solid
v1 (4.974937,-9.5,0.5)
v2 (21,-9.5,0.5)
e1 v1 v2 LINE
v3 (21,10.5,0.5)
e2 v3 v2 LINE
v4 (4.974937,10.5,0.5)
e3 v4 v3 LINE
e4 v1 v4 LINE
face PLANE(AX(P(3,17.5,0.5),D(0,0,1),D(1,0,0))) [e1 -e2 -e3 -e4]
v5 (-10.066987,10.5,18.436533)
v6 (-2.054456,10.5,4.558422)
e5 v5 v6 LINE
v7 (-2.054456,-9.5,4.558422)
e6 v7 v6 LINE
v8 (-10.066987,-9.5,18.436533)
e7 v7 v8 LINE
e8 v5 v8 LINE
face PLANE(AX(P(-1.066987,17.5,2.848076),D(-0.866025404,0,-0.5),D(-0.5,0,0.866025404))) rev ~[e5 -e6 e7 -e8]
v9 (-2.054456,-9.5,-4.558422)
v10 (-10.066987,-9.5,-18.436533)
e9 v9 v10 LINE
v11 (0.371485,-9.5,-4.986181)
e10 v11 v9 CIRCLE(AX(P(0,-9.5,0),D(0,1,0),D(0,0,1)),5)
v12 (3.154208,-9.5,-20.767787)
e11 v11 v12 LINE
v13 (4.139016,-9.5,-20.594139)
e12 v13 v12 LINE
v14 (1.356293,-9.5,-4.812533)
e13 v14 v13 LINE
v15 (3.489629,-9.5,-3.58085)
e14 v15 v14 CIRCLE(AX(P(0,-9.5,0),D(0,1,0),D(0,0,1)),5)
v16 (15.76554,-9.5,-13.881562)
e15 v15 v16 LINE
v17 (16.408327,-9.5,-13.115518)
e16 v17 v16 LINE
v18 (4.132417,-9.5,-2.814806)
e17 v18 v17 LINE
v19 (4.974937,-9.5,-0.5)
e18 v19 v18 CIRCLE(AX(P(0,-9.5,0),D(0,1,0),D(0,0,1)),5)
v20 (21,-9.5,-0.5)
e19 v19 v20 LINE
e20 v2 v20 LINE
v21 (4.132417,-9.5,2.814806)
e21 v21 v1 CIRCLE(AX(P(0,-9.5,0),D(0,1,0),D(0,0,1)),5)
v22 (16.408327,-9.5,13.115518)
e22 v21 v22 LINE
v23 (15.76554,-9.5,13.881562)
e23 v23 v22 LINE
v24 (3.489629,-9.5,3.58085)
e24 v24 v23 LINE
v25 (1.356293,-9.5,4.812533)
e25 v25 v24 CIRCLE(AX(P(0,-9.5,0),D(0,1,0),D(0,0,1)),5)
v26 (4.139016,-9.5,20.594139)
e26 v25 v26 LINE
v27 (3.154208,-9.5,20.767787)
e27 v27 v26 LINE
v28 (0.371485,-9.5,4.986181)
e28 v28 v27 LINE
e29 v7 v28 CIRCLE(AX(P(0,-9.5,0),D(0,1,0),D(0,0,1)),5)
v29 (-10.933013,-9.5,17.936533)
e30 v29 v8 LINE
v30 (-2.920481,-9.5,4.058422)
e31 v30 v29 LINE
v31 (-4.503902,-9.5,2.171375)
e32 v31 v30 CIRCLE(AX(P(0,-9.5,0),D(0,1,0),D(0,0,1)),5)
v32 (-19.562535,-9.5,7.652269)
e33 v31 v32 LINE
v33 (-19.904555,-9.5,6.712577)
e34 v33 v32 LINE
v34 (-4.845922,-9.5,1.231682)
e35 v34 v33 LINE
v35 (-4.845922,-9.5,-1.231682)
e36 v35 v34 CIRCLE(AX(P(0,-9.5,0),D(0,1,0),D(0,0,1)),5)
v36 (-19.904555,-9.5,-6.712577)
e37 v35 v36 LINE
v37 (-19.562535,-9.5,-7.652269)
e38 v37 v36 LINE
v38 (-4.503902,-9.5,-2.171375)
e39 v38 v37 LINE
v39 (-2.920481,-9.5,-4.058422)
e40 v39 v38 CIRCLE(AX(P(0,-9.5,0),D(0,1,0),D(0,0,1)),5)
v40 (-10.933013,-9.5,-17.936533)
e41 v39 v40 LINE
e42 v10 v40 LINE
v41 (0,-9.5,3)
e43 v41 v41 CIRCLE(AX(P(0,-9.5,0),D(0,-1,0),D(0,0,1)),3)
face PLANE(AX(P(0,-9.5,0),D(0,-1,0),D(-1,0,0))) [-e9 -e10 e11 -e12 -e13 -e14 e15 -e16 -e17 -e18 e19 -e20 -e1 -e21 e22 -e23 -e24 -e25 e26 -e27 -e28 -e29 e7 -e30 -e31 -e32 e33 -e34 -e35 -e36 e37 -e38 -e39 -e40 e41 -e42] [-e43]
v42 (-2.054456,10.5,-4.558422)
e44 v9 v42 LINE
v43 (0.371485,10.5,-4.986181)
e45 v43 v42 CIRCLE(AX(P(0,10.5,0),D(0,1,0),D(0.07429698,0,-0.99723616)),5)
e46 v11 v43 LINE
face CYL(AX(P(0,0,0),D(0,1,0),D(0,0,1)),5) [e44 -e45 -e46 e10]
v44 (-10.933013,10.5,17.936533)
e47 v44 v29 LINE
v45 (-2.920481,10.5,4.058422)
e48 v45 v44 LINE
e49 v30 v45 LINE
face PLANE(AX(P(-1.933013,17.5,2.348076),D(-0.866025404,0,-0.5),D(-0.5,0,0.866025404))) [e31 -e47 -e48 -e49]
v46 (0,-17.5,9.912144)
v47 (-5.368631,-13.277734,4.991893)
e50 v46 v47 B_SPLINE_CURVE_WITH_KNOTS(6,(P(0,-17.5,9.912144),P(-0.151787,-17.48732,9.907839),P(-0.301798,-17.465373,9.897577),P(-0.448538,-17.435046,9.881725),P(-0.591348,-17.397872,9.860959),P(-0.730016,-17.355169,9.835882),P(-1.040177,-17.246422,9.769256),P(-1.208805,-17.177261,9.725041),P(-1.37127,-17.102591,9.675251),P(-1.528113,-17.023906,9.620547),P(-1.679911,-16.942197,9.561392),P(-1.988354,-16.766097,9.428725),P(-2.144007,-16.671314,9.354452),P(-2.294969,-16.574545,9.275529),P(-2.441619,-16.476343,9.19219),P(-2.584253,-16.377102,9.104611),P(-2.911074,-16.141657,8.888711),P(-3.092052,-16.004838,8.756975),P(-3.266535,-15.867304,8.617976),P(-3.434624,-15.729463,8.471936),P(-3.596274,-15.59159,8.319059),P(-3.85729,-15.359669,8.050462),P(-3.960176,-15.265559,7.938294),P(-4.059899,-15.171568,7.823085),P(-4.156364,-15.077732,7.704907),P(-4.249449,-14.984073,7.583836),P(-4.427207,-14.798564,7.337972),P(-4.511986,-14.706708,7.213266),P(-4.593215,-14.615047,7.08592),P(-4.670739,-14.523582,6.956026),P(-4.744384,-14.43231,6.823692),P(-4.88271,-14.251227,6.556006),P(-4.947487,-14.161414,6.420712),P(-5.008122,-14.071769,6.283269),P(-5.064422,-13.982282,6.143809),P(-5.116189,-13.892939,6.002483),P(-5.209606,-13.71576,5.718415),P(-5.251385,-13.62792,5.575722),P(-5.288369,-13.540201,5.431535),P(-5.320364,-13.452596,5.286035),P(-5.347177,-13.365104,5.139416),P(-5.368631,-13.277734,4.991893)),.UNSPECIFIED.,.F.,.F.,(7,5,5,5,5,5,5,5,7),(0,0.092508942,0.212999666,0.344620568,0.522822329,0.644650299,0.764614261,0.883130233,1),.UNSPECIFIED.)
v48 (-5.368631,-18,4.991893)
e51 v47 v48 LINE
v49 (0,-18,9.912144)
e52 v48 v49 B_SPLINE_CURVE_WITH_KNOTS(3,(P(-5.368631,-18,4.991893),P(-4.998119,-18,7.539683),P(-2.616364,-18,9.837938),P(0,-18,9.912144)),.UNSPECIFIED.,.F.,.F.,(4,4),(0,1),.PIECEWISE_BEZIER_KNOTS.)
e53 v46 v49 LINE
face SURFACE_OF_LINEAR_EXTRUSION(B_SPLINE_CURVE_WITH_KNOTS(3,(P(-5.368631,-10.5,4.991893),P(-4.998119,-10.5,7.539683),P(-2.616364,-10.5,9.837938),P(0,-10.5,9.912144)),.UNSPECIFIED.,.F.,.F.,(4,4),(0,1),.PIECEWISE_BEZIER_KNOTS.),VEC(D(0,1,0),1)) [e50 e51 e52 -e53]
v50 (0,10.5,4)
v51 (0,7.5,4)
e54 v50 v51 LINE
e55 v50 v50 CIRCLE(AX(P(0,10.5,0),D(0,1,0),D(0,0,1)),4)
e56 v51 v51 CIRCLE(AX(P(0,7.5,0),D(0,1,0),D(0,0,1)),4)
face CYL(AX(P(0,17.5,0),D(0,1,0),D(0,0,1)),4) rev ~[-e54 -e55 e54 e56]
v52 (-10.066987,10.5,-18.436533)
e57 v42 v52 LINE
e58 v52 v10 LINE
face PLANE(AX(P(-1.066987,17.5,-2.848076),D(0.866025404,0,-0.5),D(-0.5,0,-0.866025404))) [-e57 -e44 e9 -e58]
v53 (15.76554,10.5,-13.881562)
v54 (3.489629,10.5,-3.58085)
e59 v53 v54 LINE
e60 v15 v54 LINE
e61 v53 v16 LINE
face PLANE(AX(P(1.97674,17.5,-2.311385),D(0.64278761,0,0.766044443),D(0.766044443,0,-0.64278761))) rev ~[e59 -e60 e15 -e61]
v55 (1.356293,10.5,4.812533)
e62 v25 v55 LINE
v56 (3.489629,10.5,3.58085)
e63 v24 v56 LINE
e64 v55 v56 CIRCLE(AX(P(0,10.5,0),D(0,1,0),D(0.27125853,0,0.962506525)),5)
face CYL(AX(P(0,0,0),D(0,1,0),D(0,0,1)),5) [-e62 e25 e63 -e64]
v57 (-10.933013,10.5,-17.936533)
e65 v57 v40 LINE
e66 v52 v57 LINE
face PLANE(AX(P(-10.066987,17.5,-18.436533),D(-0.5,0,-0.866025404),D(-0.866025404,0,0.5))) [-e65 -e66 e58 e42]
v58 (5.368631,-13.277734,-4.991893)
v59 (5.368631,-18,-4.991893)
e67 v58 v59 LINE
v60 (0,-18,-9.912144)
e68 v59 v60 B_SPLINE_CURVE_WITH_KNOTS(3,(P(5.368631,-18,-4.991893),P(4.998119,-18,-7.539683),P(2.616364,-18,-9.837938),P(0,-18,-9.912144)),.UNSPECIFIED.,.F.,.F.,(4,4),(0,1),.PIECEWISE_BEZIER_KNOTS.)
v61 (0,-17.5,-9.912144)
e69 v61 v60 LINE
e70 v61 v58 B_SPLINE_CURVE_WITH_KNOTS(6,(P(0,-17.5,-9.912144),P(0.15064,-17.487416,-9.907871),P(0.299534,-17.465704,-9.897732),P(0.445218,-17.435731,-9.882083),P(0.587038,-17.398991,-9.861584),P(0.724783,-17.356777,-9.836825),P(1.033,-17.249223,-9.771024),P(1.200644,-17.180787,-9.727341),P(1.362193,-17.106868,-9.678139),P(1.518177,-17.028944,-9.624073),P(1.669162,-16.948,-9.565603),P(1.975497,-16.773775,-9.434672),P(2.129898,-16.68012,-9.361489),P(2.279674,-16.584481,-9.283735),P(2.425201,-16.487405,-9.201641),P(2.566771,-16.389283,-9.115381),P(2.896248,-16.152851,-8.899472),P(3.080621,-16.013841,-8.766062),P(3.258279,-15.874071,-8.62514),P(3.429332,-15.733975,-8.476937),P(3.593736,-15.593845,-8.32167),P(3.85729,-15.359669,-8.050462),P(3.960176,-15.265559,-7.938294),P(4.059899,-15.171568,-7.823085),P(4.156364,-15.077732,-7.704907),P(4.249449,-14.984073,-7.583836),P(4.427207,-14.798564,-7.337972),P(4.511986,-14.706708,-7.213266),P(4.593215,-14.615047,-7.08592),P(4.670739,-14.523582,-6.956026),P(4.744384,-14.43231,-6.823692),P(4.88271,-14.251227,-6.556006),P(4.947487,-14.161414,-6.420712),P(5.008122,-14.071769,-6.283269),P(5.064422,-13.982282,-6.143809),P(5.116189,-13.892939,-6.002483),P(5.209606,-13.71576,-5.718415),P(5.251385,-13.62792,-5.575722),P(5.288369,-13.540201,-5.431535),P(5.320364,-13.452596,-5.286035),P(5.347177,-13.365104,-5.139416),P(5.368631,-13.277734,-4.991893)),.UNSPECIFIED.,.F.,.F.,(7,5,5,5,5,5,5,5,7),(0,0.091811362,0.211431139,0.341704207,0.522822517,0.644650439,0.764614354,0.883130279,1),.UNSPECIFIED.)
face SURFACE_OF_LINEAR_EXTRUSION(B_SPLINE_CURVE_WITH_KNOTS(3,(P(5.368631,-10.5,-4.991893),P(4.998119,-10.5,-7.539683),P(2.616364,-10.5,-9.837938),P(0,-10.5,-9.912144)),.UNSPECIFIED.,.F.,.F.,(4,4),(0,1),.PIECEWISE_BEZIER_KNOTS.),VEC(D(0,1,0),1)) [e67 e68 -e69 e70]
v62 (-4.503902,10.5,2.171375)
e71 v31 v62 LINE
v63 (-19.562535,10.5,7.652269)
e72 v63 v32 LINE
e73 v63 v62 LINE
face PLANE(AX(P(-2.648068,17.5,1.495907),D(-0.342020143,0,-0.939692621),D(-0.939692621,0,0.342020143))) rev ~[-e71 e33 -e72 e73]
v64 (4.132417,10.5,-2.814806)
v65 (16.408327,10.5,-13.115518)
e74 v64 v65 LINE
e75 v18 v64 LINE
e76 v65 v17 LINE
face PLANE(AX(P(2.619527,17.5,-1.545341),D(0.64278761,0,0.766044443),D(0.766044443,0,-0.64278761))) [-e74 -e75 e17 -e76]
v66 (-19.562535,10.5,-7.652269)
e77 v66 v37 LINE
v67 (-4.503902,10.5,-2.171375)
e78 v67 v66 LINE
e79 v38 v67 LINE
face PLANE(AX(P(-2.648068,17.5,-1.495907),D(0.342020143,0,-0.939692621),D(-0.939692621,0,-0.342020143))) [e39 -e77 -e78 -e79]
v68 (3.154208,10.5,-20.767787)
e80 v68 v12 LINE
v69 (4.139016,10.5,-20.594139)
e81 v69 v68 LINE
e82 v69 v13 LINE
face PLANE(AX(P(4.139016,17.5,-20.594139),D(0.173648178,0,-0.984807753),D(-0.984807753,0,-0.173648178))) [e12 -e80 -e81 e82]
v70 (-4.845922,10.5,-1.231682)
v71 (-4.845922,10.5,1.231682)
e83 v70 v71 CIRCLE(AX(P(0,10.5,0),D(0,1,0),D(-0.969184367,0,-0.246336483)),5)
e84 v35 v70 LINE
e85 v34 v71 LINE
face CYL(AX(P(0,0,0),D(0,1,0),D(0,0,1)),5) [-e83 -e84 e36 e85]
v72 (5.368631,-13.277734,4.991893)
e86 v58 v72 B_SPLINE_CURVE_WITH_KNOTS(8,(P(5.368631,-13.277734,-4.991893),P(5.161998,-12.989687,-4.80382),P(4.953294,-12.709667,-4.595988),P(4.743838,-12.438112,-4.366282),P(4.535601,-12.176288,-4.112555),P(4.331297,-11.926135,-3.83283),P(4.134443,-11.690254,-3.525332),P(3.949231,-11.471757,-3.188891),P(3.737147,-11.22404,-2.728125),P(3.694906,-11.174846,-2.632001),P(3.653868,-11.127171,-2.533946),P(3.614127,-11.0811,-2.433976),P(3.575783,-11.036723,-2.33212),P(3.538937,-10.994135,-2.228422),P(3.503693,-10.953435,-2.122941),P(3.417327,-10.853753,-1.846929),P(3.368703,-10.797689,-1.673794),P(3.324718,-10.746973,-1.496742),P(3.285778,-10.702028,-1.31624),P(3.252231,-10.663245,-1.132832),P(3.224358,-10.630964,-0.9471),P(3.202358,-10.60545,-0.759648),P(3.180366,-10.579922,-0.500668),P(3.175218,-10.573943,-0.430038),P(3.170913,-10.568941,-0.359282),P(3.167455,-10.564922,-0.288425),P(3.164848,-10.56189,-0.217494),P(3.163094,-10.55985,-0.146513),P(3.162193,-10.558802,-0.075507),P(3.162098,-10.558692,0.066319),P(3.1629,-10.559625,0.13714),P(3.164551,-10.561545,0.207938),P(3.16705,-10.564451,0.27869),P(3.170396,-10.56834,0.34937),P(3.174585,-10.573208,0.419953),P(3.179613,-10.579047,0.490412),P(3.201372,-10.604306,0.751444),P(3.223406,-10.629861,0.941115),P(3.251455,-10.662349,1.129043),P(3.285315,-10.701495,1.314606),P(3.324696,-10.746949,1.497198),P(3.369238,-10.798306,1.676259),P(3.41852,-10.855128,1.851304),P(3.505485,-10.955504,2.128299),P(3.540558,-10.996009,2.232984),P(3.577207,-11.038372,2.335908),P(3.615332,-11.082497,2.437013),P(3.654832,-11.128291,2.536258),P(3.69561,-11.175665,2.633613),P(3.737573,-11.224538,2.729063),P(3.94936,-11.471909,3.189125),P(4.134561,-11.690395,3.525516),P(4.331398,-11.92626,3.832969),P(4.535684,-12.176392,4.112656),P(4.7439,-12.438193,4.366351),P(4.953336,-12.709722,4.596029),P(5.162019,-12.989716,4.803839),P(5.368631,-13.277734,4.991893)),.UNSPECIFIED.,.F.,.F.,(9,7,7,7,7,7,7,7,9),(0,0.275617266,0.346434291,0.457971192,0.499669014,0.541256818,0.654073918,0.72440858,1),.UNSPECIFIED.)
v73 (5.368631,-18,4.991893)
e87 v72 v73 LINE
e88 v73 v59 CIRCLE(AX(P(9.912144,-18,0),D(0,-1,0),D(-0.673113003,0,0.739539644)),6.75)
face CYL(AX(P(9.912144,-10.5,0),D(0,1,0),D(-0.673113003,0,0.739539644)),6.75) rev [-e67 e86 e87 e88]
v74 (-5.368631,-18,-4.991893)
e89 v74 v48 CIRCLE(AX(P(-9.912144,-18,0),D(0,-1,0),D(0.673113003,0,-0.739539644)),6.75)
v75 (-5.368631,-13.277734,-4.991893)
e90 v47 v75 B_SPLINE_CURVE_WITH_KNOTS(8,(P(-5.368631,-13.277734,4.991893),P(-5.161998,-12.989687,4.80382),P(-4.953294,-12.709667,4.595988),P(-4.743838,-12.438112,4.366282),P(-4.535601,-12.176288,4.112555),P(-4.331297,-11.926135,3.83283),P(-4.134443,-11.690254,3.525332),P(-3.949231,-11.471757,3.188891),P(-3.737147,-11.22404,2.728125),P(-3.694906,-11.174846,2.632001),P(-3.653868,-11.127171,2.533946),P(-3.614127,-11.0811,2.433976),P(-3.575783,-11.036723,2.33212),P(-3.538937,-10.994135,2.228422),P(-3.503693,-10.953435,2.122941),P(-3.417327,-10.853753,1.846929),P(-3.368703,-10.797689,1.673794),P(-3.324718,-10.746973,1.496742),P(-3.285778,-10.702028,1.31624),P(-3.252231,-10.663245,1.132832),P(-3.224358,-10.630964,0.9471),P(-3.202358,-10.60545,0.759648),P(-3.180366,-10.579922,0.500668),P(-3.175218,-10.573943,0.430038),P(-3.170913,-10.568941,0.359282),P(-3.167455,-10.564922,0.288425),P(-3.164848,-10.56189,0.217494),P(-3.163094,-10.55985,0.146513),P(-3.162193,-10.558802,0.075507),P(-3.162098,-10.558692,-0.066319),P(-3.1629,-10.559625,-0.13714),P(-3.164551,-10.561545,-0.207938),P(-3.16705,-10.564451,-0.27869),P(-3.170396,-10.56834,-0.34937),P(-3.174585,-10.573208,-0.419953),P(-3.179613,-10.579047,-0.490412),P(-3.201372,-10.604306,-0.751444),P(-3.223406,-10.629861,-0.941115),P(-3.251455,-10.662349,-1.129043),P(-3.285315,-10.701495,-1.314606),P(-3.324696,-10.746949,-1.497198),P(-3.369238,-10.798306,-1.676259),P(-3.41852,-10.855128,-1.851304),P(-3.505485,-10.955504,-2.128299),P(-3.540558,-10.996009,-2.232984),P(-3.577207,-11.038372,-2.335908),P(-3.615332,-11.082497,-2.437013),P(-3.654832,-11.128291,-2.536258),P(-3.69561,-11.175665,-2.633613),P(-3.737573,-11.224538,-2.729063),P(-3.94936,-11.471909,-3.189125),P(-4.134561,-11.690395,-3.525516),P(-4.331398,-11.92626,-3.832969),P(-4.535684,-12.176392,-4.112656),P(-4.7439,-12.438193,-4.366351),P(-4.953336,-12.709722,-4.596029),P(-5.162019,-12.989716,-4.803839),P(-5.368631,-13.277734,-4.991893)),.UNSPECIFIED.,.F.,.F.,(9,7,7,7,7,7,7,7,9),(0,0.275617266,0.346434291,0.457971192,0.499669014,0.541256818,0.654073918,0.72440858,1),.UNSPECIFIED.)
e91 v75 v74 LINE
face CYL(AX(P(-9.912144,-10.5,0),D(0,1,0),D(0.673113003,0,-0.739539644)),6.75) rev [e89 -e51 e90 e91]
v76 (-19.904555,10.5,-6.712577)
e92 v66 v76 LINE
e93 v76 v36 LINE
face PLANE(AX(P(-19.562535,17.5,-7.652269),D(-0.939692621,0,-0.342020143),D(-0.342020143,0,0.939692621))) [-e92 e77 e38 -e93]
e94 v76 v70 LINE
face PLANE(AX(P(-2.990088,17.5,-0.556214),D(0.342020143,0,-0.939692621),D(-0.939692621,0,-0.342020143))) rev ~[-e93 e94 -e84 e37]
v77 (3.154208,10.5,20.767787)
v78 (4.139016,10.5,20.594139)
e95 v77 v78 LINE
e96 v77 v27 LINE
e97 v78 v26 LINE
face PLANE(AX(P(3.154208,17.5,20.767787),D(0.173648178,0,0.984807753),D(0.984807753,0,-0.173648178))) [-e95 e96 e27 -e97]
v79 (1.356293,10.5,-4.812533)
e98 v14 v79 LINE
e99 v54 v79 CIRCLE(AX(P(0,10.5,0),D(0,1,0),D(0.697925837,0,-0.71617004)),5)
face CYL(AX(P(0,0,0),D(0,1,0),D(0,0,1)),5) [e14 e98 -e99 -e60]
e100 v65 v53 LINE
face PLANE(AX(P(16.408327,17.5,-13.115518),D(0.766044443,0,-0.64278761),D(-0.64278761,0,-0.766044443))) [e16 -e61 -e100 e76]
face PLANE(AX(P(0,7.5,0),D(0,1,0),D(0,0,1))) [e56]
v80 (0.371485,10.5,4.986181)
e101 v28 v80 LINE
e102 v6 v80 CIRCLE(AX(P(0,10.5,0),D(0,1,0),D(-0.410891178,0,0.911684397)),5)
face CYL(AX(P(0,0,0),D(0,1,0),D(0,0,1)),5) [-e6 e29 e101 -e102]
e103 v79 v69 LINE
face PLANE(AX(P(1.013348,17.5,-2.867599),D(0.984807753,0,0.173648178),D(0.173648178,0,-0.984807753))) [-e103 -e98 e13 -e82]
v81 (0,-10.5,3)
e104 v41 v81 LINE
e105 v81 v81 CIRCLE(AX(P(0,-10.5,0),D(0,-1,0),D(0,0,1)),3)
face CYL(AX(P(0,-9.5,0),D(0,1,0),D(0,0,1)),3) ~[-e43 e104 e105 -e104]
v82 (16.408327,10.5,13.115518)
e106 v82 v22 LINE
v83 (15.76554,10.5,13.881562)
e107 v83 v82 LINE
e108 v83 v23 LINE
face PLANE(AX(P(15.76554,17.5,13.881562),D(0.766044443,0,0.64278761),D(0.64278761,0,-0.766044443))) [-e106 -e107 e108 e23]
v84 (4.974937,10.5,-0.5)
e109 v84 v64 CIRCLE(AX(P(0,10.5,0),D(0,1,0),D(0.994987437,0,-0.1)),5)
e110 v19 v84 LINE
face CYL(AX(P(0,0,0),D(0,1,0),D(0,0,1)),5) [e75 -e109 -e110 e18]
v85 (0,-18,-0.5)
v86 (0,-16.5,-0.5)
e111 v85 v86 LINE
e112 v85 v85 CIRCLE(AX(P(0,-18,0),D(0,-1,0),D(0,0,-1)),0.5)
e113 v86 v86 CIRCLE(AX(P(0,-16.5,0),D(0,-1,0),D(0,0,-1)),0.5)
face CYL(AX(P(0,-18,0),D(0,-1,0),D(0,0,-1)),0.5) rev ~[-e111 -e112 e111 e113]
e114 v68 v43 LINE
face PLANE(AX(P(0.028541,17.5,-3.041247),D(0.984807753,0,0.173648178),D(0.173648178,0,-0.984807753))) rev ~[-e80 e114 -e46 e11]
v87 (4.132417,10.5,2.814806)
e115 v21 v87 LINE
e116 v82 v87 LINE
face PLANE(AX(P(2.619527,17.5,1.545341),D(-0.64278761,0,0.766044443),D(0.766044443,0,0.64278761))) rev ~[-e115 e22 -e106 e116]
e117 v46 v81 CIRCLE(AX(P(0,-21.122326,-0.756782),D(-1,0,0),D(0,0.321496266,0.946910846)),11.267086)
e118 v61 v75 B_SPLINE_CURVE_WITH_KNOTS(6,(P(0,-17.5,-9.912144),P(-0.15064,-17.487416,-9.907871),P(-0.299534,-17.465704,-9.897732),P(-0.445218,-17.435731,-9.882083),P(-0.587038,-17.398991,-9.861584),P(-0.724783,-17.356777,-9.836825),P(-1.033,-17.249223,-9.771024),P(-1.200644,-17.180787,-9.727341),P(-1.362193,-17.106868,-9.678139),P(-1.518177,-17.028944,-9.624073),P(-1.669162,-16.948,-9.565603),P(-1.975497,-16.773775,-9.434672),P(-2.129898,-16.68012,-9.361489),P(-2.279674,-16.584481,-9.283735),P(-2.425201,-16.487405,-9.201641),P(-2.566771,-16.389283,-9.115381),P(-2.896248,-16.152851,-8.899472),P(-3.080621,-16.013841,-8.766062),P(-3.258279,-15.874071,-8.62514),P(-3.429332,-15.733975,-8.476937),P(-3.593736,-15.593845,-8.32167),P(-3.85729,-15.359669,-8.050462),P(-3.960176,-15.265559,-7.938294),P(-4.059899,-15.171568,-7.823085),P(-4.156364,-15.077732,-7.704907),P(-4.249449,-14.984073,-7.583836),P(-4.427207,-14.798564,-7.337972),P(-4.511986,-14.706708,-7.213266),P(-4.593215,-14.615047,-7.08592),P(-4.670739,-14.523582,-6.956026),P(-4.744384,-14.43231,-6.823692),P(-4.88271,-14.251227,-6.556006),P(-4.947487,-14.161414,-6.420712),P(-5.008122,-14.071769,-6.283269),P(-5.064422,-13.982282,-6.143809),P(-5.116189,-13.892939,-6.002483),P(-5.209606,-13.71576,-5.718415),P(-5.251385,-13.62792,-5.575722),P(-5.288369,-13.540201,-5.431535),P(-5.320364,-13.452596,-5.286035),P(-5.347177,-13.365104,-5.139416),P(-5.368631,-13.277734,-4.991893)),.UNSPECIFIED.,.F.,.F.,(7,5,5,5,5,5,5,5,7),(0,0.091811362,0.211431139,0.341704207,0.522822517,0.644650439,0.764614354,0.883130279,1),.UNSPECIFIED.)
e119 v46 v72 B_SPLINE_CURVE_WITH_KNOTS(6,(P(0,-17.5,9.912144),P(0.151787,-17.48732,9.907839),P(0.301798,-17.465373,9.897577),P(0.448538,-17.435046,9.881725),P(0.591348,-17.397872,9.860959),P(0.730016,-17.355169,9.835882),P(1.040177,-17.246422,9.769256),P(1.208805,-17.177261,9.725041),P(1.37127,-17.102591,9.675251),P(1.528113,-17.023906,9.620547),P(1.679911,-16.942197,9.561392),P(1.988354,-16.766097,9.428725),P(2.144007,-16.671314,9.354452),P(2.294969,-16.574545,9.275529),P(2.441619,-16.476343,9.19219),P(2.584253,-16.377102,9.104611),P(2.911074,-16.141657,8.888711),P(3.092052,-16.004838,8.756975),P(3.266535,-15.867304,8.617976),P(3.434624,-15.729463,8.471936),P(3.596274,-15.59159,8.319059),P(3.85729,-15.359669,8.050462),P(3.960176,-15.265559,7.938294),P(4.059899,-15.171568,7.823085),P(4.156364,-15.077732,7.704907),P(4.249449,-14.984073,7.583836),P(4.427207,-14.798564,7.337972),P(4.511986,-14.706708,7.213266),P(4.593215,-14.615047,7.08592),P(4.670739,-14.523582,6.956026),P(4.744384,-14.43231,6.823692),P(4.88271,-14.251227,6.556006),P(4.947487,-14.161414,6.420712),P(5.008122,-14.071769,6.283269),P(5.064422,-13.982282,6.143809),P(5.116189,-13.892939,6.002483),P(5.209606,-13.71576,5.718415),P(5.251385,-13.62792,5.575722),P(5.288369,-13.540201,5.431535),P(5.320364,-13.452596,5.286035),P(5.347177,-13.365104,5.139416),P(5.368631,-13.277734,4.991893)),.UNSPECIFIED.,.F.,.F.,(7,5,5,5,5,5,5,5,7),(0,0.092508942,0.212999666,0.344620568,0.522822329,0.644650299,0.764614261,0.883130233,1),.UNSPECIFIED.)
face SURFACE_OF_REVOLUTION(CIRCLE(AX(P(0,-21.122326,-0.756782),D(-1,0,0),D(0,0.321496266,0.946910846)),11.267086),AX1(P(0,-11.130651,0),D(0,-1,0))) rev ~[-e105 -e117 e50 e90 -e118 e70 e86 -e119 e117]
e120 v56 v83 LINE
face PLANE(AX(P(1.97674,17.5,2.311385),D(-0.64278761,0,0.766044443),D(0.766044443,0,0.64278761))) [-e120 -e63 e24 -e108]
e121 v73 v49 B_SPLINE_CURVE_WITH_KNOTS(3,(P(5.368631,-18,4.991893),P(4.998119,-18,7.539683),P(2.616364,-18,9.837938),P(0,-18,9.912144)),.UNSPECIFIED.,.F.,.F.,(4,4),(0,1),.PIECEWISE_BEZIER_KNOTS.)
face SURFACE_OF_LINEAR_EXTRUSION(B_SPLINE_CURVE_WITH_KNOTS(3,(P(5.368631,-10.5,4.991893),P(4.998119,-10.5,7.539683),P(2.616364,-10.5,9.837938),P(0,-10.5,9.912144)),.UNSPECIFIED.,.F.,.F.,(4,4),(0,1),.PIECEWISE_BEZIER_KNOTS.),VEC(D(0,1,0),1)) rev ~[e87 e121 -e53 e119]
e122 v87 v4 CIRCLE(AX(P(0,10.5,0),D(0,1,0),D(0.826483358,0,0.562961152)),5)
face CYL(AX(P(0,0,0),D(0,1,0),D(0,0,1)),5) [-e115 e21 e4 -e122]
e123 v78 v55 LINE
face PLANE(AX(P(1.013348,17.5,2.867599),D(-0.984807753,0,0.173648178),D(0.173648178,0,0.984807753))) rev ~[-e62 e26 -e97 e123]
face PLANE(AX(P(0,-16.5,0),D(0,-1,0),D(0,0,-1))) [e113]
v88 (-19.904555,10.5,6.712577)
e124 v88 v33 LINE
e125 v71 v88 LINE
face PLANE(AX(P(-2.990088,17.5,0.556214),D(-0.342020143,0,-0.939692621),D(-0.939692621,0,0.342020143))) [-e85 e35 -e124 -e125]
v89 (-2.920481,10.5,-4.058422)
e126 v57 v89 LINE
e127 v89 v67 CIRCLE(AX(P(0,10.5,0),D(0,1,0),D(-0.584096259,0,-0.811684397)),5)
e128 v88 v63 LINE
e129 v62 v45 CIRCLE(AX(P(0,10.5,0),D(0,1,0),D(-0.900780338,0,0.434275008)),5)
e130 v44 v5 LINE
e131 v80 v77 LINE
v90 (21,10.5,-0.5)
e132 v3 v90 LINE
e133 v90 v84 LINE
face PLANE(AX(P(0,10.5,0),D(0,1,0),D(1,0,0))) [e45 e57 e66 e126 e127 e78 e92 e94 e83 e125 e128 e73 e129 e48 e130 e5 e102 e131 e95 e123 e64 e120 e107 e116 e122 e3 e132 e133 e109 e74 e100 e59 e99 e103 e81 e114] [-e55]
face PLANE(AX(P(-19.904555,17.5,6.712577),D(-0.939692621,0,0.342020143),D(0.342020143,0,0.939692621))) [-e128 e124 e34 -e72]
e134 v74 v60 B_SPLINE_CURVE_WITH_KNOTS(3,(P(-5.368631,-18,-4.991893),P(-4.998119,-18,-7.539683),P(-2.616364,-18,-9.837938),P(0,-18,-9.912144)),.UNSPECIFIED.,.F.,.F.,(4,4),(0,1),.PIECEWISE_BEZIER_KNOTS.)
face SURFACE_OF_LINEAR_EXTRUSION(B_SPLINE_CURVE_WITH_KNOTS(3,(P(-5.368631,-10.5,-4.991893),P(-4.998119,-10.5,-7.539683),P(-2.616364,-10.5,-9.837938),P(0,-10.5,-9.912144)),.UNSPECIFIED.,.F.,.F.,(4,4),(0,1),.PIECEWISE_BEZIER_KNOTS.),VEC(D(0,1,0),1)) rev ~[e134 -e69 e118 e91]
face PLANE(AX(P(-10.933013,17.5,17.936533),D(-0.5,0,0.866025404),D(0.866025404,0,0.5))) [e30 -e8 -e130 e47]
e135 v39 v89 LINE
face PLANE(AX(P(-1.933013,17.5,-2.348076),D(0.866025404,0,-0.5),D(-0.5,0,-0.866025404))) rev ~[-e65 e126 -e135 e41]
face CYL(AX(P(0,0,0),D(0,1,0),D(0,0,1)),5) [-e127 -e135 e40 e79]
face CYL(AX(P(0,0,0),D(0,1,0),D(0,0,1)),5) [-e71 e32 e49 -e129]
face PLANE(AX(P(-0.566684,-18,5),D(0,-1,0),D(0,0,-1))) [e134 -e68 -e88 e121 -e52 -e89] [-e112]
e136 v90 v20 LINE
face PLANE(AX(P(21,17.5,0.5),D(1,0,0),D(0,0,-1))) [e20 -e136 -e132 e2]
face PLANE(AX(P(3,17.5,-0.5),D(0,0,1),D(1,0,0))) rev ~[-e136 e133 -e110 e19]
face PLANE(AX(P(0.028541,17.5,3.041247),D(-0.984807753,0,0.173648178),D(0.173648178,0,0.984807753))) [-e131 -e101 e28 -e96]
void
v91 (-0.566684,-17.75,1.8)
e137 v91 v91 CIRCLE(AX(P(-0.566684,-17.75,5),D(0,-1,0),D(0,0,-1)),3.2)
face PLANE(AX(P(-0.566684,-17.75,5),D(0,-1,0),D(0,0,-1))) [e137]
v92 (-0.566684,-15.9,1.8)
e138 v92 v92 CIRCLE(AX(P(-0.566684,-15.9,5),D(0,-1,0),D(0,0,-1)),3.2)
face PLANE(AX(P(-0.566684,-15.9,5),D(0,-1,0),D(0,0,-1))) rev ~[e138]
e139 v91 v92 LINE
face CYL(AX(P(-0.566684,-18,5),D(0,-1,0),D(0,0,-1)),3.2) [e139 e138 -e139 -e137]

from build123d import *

# Parameters (mm, degrees)
SKETCH1_R           = 5
SKETCH1_R_2         = 3
BOSS_EXTRUDE2_DEPTH = 17.5
SKETCH4_W           = 18
SKETCH4_H           = 1
EXTRUDE_THIN1_DEPTH = 35
CIRPATTERN1_COUNT   = 9
SKETCH5_R           = 3
BOSS_EXTRUDE3_DEPTH = 15
SKETCH6_R           = 3.5
SKETCH6_R_2         = 1.5
CUT_EXTRUDE1_DEPTH  = 6
SKETCH15_R          = 1.5
CUT_EXTRUDE2_DEPTH  = 2
SKETCH17_R          = 2.5
BOSS_EXTRUDE4_DEPTH = 3
SKETCH18_R          = 2
CUT_EXTRUDE3_DEPTH  = 2
SKETCH19_R          = 4
CUT_EXTRUDE4_DEPTH  = 20
SKETCH20_W          = 45.677284088
SKETCH20_H          = 45.724664858
CUT_EXTRUDE5_DEPTH  = 8
SKETCH21_R          = 3
BOSS_EXTRUDE5_DEPTH = 1
SKETCH24_R          = 9.912143672
BOSS_EXTRUDE6_DEPTH = 0.5
SKETCH25_R          = 3.2
CUT_EXTRUDE6_DEPTH  = 2.1
SKETCH26_R          = 3.2
BOSS_EXTRUDE7_DEPTH = 0.25
CUT_EXTRUDE8_START  = -7.5
CUT_EXTRUDE8_DEPTH  = 7.5
SKETCH28_R          = 0.5
CUT_EXTRUDE9_DEPTH  = 1.5
CUT_EXTRUDE10_DEPTH = 7
BOSS_EXTRUDE8_START = 10
SKETCH30_R          = 4
BOSS_EXTRUDE8_DEPTH = 10


with BuildPart() as part:
    # Sketch1 → Boss-Extrude2 (new, symmetric)
    with BuildSketch(Plane(origin=(0, 0, 0), x_dir=(1, 0, 0), z_dir=(0, 1, 0))):
        with Locations(Location((0, 0, 0), (0, 0, 270))):
            Circle(SKETCH1_R)
        with Locations(Location((0, 0, 0), (0, 0, 270))):
            Circle(SKETCH1_R_2, mode=Mode.SUBTRACT)
    extrude(amount=BOSS_EXTRUDE2_DEPTH, both=True)

    # Sketch4 → Extrude-Thin1 (add)
    with BuildSketch(Plane(origin=(0, 17.5, 0), x_dir=(1, 0, 0), z_dir=(0, 1, 0))):
        with Locations((12, 0)):
            Rectangle(SKETCH4_W, SKETCH4_H)
    extrude_thin1 = extrude(amount=-EXTRUDE_THIN1_DEPTH)

    # CirPattern1: Extrude-Thin1 ×9 about axis
    cirpattern1_axis = Axis((0, 0, 0), (0, 1, 0))
    for i in range(1, CIRPATTERN1_COUNT):
        add(extrude_thin1.rotate(cirpattern1_axis, i * 360 / CIRPATTERN1_COUNT))

    # Sketch5 → Boss-Extrude3 (add)
    with BuildSketch(Plane(origin=(0, -17.5, 0), x_dir=(-1, 0, 0), z_dir=(0, -1, 0))):
        with Locations(Location((0, 0, 0), (0, 0, 90))):
            Circle(SKETCH5_R)
    extrude(amount=-BOSS_EXTRUDE3_DEPTH)

    # Sketch6 → Cut-Extrude1 (cut)
    with BuildSketch(Plane(origin=(0, -17.5, 0), x_dir=(-1, 0, 0), z_dir=(0, -1, 0))):
        with Locations(Location((0, 0, 0), (0, 0, 90))):
            Circle(SKETCH6_R)
        with Locations(Location((0, 0, 0), (0, 0, 90))):
            Circle(SKETCH6_R_2, mode=Mode.SUBTRACT)
    extrude(amount=-CUT_EXTRUDE1_DEPTH, mode=Mode.SUBTRACT)

    # Sketch15 → Cut-Extrude2 (cut)
    with BuildSketch(Plane.XZ.offset(17.5)):
        with Locations(Location((0, 0, 0), (0, 0, 270))):
            Circle(SKETCH15_R)
    extrude(amount=-CUT_EXTRUDE2_DEPTH, mode=Mode.SUBTRACT)

    # Sketch17 → Boss-Extrude4 (add)
    with BuildSketch(Plane.XZ.offset(17.5)):
        with Locations((18.5, 0)):
            Circle(SKETCH17_R)
    extrude(amount=-BOSS_EXTRUDE4_DEPTH)

    # Sketch18 → Cut-Extrude3 (cut)
    with BuildSketch(Plane.XZ.offset(17.5)):
        with Locations(Location((18.5, 0, 0), (0, 0, 270))):
            Circle(SKETCH18_R)
    extrude(amount=-CUT_EXTRUDE3_DEPTH, mode=Mode.SUBTRACT)

    # Sketch19 → Cut-Extrude4 (cut)
    with BuildSketch(Plane(origin=(0, 17.5, 0), x_dir=(1, 0, 0), z_dir=(0, 1, 0))):
        with Locations(Location((0, 0, 0), (0, 0, 270))):
            Circle(SKETCH19_R)
    extrude(amount=-CUT_EXTRUDE4_DEPTH, mode=Mode.SUBTRACT)

    # Sketch20 → Cut-Extrude5 (cut)
    with BuildSketch(Plane(origin=(0, -17.5, 0), x_dir=(-1, 0, 0), z_dir=(0, -1, 0))):
        Rectangle(SKETCH20_W, SKETCH20_H)
    extrude(amount=-CUT_EXTRUDE5_DEPTH, mode=Mode.SUBTRACT)

    # Sketch21 → Boss-Extrude5 (add)
    with BuildSketch(Plane.XZ.offset(9.5)):
        with Locations(Location((0, 0, 0), (0, 0, 90))):
            Circle(SKETCH21_R)
    extrude(amount=BOSS_EXTRUDE5_DEPTH)

    # Sketch23 → Revolve1 (revolve)
    with BuildSketch(Plane(origin=(0, 0, 0), x_dir=(0, 0, -1), z_dir=(1, 0, 0))):
        with BuildLine():
            Line((-3, -10.5), (-2, -10.5))
            Line((-2, -10.5), (0, -10.5))
            Line((0, -10.5), (0, -17.5))
            Line((0, -17.5), (-8.912143672, -17.5))
            Line((-8.912143672, -17.5), (-9.912143672, -17.5))
            ThreePointArc((-9.912143672, -17.5), (-7.260403323, -13.2057636), (-3, -10.5))
        make_face()
    revolve(axis=Axis((0, -11.130650603, 0), (0, -1, 0)))

    # Sketch24 → Boss-Extrude6 (add)
    with BuildSketch(Plane.XZ.offset(17.5)):
        with Locations(Location((0, 0, 0), (0, 0, 270))):
            Circle(SKETCH24_R)
    extrude(amount=BOSS_EXTRUDE6_DEPTH)

    # Sketch25 → Cut-Extrude6 (cut)
    with BuildSketch(Plane.XZ.offset(18)):
        with Locations(Location((-0.56668442, 5, 0), (0, 0, 270))):
            Circle(SKETCH25_R)
    extrude(amount=-CUT_EXTRUDE6_DEPTH, mode=Mode.SUBTRACT)

    # Sketch26 → Boss-Extrude7 (add)
    with BuildSketch(Plane.XZ.offset(18)):
        with Locations(Location((-0.56668442, 5, 0), (0, 0, 270))):
            Circle(SKETCH26_R)
    extrude(amount=-BOSS_EXTRUDE7_DEPTH)

    # Sketch27 → Cut-Extrude8 (cut)
    with BuildSketch(Plane.XZ.offset(18).offset(CUT_EXTRUDE8_START)):
        with BuildLine():
            ThreePointArc((-5.368630905, 4.991892601), (-6.424807204, 5.779358473), (-7.613826501, 6.346671425))
            ThreePointArc((-7.613826501, 6.346671425), (-9.912143672, 0), (-7.613826501, -6.346671425))
            ThreePointArc((-7.613826501, -6.346671425), (-6.424807204, -5.779358473), (-5.368630905, -4.991892601))
            ThreePointArc((-5.368630905, -4.991892601), (-3.162143672, 0), (-5.368630905, 4.991892601))
        make_face()
        with BuildLine():
            ThreePointArc((9.912143672, 0), (9.319869483, 3.375), (7.613826501, 6.346671425))
            ThreePointArc((7.613826501, 6.346671425), (6.424807204, 5.779358473), (5.368630905, 4.991892601))
            ThreePointArc((5.368630905, 4.991892601), (3.162143672, 0), (5.368630905, -4.991892601))
            ThreePointArc((5.368630905, -4.991892601), (6.424807204, -5.779358473), (7.613826501, -6.346671425))
            ThreePointArc((7.613826501, -6.346671425), (9.319869483, -3.375), (9.912143672, 0))
        make_face()
        with BuildLine():
            ThreePointArc((-5.368630905, -4.991892601), (-6.424807204, -5.779358473), (-7.613826501, -6.346671425))
            ThreePointArc((-7.613826501, -6.346671425), (-4.203657524, -8.976628297), (0, -9.912143672))
            add(Edge.make_bspline(
                [(-5.368630905, -4.991892601), (-4.998119196, -7.539682857), (-2.616364035, -9.837937814), (0, -9.912143672)],
                knots=[0, 0, 0, 0, 1, 1, 1, 1], degree=3))
        make_face()
        with BuildLine():
            add(Edge.make_bspline(
                [(5.368630905, -4.991892601), (4.998119196, -7.539682857), (2.616364035, -9.837937814), (0, -9.912143672)],
                knots=[0, 0, 0, 0, 1, 1, 1, 1], degree=3))
            ThreePointArc((0, -9.912143672), (4.203657524, -8.976628297), (7.613826501, -6.346671425))
            ThreePointArc((7.613826501, -6.346671425), (6.424807204, -5.779358473), (5.368630905, -4.991892601))
        make_face()
        with BuildLine():
            ThreePointArc((0, 9.912143672), (-4.203657524, 8.976628297), (-7.613826501, 6.346671425))
            ThreePointArc((-7.613826501, 6.346671425), (-6.424807204, 5.779358473), (-5.368630905, 4.991892601))
            add(Edge.make_bspline(
                [(-5.368630905, 4.991892601), (-4.998119196, 7.539682857), (-2.616364035, 9.837937814), (0, 9.912143672)],
                knots=[0, 0, 0, 0, 1, 1, 1, 1], degree=3))
        make_face()
        with BuildLine():
            ThreePointArc((7.613826501, 6.346671425), (4.203657524, 8.976628297), (0, 9.912143672))
            add(Edge.make_bspline(
                [(5.368630905, 4.991892601), (4.998119196, 7.539682857), (2.616364035, 9.837937814), (0, 9.912143672)],
                knots=[0, 0, 0, 0, 1, 1, 1, 1], degree=3))
            ThreePointArc((5.368630905, 4.991892601), (6.424807204, 5.779358473), (7.613826501, 6.346671425))
        make_face()
    extrude(amount=CUT_EXTRUDE8_DEPTH, mode=Mode.SUBTRACT)

    # Sketch28 → Cut-Extrude9 (cut)
    with BuildSketch(Plane.XZ.offset(18)):
        with Locations(Location((0, 0, 0), (0, 0, 270))):
            Circle(SKETCH28_R)
    extrude(amount=-CUT_EXTRUDE9_DEPTH, mode=Mode.SUBTRACT)

    # Sketch29 → Cut-Extrude10 (cut)
    with BuildSketch(Plane(origin=(0, 17.5, 0), x_dir=(1, 0, 0), z_dir=(0, 1, 0))):
        with BuildLine():
            Line((3.489629181, -3.580850203), (15.765539501, -13.881562025))
            Line((15.765539501, -13.881562025), (16.40832711, -13.115517582))
            Line((16.40832711, -13.115517582), (4.132416791, -2.81480576))
            ThreePointArc((4.132416791, -2.81480576), (4.698463104, -1.710100717), (4.974937186, -0.5))
            Line((4.974937186, -0.5), (21, -0.5))
            Line((21, -0.5), (21, 0.5))
            Line((21, 0.5), (4.974937186, 0.5))
            ThreePointArc((4.974937186, 0.5), (4.698463104, 1.710100717), (4.132416791, 2.81480576))
            Line((4.132416791, 2.81480576), (16.40832711, 13.115517582))
            Line((16.40832711, 13.115517582), (15.765539501, 13.881562025))
            Line((15.765539501, 13.881562025), (3.489629181, 3.580850203))
            ThreePointArc((3.489629181, 3.580850203), (2.5, 4.330127019), (1.356292653, 4.812532622))
            Line((1.356292653, 4.812532622), (4.139015608, 20.594138724))
            Line((4.139015608, 20.594138724), (3.154207854, 20.767786902))
            Line((3.154207854, 20.767786902), (0.3714849, 4.9861808))
            ThreePointArc((0.3714849, 4.9861808), (-0.868240888, 4.924038765), (-2.054455891, 4.558421985))
            Line((-2.054455891, 4.558421985), (-10.066987298, 18.436533479))
            Line((-10.066987298, 18.436533479), (-10.933012702, 17.936533479))
            Line((-10.933012702, 17.936533479), (-2.920481295, 4.058421985))
            ThreePointArc((-2.920481295, 4.058421985), (-3.830222216, 3.213938048), (-4.50390169, 2.17137504))
            Line((-4.50390169, 2.17137504), (-19.562534965, 7.65226932))
            Line((-19.562534965, 7.65226932), (-19.904555108, 6.712576699))
            Line((-19.904555108, 6.712576699), (-4.845921834, 1.231682419))
            ThreePointArc((-4.845921834, 1.231682419), (-5, 0), (-4.845921834, -1.231682419))
            Line((-4.845921834, -1.231682419), (-19.904555108, -6.712576699))
            Line((-19.904555108, -6.712576699), (-19.562534965, -7.65226932))
            Line((-19.562534965, -7.65226932), (-4.50390169, -2.17137504))
            ThreePointArc((-4.50390169, -2.17137504), (-3.830222216, -3.213938048), (-2.920481295, -4.058421985))
            Line((-2.920481295, -4.058421985), (-10.933012702, -17.936533479))
            Line((-10.933012702, -17.936533479), (-10.066987298, -18.436533479))
            Line((-10.066987298, -18.436533479), (-2.054455891, -4.558421985))
            ThreePointArc((-2.054455891, -4.558421985), (-0.868240888, -4.924038765), (0.3714849, -4.9861808))
            Line((0.3714849, -4.9861808), (3.154207854, -20.767786902))
            Line((3.154207854, -20.767786902), (4.139015608, -20.594138724))
            Line((4.139015608, -20.594138724), (1.356292653, -4.812532622))
            ThreePointArc((1.356292653, -4.812532622), (2.5, -4.330127019), (3.489629181, -3.580850203))
        make_face()
    extrude(amount=-CUT_EXTRUDE10_DEPTH, mode=Mode.SUBTRACT)

    # Sketch30 → Boss-Extrude8 (add)
    with BuildSketch(Plane(origin=(0, -2.5, 0), x_dir=(1, 0, 0), z_dir=(0, 1, 0)).offset(BOSS_EXTRUDE8_START)):
        with Locations(Location((0, 0, 0), (0, 0, 270))):
            Circle(SKETCH30_R)
    extrude(amount=-BOSS_EXTRUDE8_DEPTH)


solid = part.part
